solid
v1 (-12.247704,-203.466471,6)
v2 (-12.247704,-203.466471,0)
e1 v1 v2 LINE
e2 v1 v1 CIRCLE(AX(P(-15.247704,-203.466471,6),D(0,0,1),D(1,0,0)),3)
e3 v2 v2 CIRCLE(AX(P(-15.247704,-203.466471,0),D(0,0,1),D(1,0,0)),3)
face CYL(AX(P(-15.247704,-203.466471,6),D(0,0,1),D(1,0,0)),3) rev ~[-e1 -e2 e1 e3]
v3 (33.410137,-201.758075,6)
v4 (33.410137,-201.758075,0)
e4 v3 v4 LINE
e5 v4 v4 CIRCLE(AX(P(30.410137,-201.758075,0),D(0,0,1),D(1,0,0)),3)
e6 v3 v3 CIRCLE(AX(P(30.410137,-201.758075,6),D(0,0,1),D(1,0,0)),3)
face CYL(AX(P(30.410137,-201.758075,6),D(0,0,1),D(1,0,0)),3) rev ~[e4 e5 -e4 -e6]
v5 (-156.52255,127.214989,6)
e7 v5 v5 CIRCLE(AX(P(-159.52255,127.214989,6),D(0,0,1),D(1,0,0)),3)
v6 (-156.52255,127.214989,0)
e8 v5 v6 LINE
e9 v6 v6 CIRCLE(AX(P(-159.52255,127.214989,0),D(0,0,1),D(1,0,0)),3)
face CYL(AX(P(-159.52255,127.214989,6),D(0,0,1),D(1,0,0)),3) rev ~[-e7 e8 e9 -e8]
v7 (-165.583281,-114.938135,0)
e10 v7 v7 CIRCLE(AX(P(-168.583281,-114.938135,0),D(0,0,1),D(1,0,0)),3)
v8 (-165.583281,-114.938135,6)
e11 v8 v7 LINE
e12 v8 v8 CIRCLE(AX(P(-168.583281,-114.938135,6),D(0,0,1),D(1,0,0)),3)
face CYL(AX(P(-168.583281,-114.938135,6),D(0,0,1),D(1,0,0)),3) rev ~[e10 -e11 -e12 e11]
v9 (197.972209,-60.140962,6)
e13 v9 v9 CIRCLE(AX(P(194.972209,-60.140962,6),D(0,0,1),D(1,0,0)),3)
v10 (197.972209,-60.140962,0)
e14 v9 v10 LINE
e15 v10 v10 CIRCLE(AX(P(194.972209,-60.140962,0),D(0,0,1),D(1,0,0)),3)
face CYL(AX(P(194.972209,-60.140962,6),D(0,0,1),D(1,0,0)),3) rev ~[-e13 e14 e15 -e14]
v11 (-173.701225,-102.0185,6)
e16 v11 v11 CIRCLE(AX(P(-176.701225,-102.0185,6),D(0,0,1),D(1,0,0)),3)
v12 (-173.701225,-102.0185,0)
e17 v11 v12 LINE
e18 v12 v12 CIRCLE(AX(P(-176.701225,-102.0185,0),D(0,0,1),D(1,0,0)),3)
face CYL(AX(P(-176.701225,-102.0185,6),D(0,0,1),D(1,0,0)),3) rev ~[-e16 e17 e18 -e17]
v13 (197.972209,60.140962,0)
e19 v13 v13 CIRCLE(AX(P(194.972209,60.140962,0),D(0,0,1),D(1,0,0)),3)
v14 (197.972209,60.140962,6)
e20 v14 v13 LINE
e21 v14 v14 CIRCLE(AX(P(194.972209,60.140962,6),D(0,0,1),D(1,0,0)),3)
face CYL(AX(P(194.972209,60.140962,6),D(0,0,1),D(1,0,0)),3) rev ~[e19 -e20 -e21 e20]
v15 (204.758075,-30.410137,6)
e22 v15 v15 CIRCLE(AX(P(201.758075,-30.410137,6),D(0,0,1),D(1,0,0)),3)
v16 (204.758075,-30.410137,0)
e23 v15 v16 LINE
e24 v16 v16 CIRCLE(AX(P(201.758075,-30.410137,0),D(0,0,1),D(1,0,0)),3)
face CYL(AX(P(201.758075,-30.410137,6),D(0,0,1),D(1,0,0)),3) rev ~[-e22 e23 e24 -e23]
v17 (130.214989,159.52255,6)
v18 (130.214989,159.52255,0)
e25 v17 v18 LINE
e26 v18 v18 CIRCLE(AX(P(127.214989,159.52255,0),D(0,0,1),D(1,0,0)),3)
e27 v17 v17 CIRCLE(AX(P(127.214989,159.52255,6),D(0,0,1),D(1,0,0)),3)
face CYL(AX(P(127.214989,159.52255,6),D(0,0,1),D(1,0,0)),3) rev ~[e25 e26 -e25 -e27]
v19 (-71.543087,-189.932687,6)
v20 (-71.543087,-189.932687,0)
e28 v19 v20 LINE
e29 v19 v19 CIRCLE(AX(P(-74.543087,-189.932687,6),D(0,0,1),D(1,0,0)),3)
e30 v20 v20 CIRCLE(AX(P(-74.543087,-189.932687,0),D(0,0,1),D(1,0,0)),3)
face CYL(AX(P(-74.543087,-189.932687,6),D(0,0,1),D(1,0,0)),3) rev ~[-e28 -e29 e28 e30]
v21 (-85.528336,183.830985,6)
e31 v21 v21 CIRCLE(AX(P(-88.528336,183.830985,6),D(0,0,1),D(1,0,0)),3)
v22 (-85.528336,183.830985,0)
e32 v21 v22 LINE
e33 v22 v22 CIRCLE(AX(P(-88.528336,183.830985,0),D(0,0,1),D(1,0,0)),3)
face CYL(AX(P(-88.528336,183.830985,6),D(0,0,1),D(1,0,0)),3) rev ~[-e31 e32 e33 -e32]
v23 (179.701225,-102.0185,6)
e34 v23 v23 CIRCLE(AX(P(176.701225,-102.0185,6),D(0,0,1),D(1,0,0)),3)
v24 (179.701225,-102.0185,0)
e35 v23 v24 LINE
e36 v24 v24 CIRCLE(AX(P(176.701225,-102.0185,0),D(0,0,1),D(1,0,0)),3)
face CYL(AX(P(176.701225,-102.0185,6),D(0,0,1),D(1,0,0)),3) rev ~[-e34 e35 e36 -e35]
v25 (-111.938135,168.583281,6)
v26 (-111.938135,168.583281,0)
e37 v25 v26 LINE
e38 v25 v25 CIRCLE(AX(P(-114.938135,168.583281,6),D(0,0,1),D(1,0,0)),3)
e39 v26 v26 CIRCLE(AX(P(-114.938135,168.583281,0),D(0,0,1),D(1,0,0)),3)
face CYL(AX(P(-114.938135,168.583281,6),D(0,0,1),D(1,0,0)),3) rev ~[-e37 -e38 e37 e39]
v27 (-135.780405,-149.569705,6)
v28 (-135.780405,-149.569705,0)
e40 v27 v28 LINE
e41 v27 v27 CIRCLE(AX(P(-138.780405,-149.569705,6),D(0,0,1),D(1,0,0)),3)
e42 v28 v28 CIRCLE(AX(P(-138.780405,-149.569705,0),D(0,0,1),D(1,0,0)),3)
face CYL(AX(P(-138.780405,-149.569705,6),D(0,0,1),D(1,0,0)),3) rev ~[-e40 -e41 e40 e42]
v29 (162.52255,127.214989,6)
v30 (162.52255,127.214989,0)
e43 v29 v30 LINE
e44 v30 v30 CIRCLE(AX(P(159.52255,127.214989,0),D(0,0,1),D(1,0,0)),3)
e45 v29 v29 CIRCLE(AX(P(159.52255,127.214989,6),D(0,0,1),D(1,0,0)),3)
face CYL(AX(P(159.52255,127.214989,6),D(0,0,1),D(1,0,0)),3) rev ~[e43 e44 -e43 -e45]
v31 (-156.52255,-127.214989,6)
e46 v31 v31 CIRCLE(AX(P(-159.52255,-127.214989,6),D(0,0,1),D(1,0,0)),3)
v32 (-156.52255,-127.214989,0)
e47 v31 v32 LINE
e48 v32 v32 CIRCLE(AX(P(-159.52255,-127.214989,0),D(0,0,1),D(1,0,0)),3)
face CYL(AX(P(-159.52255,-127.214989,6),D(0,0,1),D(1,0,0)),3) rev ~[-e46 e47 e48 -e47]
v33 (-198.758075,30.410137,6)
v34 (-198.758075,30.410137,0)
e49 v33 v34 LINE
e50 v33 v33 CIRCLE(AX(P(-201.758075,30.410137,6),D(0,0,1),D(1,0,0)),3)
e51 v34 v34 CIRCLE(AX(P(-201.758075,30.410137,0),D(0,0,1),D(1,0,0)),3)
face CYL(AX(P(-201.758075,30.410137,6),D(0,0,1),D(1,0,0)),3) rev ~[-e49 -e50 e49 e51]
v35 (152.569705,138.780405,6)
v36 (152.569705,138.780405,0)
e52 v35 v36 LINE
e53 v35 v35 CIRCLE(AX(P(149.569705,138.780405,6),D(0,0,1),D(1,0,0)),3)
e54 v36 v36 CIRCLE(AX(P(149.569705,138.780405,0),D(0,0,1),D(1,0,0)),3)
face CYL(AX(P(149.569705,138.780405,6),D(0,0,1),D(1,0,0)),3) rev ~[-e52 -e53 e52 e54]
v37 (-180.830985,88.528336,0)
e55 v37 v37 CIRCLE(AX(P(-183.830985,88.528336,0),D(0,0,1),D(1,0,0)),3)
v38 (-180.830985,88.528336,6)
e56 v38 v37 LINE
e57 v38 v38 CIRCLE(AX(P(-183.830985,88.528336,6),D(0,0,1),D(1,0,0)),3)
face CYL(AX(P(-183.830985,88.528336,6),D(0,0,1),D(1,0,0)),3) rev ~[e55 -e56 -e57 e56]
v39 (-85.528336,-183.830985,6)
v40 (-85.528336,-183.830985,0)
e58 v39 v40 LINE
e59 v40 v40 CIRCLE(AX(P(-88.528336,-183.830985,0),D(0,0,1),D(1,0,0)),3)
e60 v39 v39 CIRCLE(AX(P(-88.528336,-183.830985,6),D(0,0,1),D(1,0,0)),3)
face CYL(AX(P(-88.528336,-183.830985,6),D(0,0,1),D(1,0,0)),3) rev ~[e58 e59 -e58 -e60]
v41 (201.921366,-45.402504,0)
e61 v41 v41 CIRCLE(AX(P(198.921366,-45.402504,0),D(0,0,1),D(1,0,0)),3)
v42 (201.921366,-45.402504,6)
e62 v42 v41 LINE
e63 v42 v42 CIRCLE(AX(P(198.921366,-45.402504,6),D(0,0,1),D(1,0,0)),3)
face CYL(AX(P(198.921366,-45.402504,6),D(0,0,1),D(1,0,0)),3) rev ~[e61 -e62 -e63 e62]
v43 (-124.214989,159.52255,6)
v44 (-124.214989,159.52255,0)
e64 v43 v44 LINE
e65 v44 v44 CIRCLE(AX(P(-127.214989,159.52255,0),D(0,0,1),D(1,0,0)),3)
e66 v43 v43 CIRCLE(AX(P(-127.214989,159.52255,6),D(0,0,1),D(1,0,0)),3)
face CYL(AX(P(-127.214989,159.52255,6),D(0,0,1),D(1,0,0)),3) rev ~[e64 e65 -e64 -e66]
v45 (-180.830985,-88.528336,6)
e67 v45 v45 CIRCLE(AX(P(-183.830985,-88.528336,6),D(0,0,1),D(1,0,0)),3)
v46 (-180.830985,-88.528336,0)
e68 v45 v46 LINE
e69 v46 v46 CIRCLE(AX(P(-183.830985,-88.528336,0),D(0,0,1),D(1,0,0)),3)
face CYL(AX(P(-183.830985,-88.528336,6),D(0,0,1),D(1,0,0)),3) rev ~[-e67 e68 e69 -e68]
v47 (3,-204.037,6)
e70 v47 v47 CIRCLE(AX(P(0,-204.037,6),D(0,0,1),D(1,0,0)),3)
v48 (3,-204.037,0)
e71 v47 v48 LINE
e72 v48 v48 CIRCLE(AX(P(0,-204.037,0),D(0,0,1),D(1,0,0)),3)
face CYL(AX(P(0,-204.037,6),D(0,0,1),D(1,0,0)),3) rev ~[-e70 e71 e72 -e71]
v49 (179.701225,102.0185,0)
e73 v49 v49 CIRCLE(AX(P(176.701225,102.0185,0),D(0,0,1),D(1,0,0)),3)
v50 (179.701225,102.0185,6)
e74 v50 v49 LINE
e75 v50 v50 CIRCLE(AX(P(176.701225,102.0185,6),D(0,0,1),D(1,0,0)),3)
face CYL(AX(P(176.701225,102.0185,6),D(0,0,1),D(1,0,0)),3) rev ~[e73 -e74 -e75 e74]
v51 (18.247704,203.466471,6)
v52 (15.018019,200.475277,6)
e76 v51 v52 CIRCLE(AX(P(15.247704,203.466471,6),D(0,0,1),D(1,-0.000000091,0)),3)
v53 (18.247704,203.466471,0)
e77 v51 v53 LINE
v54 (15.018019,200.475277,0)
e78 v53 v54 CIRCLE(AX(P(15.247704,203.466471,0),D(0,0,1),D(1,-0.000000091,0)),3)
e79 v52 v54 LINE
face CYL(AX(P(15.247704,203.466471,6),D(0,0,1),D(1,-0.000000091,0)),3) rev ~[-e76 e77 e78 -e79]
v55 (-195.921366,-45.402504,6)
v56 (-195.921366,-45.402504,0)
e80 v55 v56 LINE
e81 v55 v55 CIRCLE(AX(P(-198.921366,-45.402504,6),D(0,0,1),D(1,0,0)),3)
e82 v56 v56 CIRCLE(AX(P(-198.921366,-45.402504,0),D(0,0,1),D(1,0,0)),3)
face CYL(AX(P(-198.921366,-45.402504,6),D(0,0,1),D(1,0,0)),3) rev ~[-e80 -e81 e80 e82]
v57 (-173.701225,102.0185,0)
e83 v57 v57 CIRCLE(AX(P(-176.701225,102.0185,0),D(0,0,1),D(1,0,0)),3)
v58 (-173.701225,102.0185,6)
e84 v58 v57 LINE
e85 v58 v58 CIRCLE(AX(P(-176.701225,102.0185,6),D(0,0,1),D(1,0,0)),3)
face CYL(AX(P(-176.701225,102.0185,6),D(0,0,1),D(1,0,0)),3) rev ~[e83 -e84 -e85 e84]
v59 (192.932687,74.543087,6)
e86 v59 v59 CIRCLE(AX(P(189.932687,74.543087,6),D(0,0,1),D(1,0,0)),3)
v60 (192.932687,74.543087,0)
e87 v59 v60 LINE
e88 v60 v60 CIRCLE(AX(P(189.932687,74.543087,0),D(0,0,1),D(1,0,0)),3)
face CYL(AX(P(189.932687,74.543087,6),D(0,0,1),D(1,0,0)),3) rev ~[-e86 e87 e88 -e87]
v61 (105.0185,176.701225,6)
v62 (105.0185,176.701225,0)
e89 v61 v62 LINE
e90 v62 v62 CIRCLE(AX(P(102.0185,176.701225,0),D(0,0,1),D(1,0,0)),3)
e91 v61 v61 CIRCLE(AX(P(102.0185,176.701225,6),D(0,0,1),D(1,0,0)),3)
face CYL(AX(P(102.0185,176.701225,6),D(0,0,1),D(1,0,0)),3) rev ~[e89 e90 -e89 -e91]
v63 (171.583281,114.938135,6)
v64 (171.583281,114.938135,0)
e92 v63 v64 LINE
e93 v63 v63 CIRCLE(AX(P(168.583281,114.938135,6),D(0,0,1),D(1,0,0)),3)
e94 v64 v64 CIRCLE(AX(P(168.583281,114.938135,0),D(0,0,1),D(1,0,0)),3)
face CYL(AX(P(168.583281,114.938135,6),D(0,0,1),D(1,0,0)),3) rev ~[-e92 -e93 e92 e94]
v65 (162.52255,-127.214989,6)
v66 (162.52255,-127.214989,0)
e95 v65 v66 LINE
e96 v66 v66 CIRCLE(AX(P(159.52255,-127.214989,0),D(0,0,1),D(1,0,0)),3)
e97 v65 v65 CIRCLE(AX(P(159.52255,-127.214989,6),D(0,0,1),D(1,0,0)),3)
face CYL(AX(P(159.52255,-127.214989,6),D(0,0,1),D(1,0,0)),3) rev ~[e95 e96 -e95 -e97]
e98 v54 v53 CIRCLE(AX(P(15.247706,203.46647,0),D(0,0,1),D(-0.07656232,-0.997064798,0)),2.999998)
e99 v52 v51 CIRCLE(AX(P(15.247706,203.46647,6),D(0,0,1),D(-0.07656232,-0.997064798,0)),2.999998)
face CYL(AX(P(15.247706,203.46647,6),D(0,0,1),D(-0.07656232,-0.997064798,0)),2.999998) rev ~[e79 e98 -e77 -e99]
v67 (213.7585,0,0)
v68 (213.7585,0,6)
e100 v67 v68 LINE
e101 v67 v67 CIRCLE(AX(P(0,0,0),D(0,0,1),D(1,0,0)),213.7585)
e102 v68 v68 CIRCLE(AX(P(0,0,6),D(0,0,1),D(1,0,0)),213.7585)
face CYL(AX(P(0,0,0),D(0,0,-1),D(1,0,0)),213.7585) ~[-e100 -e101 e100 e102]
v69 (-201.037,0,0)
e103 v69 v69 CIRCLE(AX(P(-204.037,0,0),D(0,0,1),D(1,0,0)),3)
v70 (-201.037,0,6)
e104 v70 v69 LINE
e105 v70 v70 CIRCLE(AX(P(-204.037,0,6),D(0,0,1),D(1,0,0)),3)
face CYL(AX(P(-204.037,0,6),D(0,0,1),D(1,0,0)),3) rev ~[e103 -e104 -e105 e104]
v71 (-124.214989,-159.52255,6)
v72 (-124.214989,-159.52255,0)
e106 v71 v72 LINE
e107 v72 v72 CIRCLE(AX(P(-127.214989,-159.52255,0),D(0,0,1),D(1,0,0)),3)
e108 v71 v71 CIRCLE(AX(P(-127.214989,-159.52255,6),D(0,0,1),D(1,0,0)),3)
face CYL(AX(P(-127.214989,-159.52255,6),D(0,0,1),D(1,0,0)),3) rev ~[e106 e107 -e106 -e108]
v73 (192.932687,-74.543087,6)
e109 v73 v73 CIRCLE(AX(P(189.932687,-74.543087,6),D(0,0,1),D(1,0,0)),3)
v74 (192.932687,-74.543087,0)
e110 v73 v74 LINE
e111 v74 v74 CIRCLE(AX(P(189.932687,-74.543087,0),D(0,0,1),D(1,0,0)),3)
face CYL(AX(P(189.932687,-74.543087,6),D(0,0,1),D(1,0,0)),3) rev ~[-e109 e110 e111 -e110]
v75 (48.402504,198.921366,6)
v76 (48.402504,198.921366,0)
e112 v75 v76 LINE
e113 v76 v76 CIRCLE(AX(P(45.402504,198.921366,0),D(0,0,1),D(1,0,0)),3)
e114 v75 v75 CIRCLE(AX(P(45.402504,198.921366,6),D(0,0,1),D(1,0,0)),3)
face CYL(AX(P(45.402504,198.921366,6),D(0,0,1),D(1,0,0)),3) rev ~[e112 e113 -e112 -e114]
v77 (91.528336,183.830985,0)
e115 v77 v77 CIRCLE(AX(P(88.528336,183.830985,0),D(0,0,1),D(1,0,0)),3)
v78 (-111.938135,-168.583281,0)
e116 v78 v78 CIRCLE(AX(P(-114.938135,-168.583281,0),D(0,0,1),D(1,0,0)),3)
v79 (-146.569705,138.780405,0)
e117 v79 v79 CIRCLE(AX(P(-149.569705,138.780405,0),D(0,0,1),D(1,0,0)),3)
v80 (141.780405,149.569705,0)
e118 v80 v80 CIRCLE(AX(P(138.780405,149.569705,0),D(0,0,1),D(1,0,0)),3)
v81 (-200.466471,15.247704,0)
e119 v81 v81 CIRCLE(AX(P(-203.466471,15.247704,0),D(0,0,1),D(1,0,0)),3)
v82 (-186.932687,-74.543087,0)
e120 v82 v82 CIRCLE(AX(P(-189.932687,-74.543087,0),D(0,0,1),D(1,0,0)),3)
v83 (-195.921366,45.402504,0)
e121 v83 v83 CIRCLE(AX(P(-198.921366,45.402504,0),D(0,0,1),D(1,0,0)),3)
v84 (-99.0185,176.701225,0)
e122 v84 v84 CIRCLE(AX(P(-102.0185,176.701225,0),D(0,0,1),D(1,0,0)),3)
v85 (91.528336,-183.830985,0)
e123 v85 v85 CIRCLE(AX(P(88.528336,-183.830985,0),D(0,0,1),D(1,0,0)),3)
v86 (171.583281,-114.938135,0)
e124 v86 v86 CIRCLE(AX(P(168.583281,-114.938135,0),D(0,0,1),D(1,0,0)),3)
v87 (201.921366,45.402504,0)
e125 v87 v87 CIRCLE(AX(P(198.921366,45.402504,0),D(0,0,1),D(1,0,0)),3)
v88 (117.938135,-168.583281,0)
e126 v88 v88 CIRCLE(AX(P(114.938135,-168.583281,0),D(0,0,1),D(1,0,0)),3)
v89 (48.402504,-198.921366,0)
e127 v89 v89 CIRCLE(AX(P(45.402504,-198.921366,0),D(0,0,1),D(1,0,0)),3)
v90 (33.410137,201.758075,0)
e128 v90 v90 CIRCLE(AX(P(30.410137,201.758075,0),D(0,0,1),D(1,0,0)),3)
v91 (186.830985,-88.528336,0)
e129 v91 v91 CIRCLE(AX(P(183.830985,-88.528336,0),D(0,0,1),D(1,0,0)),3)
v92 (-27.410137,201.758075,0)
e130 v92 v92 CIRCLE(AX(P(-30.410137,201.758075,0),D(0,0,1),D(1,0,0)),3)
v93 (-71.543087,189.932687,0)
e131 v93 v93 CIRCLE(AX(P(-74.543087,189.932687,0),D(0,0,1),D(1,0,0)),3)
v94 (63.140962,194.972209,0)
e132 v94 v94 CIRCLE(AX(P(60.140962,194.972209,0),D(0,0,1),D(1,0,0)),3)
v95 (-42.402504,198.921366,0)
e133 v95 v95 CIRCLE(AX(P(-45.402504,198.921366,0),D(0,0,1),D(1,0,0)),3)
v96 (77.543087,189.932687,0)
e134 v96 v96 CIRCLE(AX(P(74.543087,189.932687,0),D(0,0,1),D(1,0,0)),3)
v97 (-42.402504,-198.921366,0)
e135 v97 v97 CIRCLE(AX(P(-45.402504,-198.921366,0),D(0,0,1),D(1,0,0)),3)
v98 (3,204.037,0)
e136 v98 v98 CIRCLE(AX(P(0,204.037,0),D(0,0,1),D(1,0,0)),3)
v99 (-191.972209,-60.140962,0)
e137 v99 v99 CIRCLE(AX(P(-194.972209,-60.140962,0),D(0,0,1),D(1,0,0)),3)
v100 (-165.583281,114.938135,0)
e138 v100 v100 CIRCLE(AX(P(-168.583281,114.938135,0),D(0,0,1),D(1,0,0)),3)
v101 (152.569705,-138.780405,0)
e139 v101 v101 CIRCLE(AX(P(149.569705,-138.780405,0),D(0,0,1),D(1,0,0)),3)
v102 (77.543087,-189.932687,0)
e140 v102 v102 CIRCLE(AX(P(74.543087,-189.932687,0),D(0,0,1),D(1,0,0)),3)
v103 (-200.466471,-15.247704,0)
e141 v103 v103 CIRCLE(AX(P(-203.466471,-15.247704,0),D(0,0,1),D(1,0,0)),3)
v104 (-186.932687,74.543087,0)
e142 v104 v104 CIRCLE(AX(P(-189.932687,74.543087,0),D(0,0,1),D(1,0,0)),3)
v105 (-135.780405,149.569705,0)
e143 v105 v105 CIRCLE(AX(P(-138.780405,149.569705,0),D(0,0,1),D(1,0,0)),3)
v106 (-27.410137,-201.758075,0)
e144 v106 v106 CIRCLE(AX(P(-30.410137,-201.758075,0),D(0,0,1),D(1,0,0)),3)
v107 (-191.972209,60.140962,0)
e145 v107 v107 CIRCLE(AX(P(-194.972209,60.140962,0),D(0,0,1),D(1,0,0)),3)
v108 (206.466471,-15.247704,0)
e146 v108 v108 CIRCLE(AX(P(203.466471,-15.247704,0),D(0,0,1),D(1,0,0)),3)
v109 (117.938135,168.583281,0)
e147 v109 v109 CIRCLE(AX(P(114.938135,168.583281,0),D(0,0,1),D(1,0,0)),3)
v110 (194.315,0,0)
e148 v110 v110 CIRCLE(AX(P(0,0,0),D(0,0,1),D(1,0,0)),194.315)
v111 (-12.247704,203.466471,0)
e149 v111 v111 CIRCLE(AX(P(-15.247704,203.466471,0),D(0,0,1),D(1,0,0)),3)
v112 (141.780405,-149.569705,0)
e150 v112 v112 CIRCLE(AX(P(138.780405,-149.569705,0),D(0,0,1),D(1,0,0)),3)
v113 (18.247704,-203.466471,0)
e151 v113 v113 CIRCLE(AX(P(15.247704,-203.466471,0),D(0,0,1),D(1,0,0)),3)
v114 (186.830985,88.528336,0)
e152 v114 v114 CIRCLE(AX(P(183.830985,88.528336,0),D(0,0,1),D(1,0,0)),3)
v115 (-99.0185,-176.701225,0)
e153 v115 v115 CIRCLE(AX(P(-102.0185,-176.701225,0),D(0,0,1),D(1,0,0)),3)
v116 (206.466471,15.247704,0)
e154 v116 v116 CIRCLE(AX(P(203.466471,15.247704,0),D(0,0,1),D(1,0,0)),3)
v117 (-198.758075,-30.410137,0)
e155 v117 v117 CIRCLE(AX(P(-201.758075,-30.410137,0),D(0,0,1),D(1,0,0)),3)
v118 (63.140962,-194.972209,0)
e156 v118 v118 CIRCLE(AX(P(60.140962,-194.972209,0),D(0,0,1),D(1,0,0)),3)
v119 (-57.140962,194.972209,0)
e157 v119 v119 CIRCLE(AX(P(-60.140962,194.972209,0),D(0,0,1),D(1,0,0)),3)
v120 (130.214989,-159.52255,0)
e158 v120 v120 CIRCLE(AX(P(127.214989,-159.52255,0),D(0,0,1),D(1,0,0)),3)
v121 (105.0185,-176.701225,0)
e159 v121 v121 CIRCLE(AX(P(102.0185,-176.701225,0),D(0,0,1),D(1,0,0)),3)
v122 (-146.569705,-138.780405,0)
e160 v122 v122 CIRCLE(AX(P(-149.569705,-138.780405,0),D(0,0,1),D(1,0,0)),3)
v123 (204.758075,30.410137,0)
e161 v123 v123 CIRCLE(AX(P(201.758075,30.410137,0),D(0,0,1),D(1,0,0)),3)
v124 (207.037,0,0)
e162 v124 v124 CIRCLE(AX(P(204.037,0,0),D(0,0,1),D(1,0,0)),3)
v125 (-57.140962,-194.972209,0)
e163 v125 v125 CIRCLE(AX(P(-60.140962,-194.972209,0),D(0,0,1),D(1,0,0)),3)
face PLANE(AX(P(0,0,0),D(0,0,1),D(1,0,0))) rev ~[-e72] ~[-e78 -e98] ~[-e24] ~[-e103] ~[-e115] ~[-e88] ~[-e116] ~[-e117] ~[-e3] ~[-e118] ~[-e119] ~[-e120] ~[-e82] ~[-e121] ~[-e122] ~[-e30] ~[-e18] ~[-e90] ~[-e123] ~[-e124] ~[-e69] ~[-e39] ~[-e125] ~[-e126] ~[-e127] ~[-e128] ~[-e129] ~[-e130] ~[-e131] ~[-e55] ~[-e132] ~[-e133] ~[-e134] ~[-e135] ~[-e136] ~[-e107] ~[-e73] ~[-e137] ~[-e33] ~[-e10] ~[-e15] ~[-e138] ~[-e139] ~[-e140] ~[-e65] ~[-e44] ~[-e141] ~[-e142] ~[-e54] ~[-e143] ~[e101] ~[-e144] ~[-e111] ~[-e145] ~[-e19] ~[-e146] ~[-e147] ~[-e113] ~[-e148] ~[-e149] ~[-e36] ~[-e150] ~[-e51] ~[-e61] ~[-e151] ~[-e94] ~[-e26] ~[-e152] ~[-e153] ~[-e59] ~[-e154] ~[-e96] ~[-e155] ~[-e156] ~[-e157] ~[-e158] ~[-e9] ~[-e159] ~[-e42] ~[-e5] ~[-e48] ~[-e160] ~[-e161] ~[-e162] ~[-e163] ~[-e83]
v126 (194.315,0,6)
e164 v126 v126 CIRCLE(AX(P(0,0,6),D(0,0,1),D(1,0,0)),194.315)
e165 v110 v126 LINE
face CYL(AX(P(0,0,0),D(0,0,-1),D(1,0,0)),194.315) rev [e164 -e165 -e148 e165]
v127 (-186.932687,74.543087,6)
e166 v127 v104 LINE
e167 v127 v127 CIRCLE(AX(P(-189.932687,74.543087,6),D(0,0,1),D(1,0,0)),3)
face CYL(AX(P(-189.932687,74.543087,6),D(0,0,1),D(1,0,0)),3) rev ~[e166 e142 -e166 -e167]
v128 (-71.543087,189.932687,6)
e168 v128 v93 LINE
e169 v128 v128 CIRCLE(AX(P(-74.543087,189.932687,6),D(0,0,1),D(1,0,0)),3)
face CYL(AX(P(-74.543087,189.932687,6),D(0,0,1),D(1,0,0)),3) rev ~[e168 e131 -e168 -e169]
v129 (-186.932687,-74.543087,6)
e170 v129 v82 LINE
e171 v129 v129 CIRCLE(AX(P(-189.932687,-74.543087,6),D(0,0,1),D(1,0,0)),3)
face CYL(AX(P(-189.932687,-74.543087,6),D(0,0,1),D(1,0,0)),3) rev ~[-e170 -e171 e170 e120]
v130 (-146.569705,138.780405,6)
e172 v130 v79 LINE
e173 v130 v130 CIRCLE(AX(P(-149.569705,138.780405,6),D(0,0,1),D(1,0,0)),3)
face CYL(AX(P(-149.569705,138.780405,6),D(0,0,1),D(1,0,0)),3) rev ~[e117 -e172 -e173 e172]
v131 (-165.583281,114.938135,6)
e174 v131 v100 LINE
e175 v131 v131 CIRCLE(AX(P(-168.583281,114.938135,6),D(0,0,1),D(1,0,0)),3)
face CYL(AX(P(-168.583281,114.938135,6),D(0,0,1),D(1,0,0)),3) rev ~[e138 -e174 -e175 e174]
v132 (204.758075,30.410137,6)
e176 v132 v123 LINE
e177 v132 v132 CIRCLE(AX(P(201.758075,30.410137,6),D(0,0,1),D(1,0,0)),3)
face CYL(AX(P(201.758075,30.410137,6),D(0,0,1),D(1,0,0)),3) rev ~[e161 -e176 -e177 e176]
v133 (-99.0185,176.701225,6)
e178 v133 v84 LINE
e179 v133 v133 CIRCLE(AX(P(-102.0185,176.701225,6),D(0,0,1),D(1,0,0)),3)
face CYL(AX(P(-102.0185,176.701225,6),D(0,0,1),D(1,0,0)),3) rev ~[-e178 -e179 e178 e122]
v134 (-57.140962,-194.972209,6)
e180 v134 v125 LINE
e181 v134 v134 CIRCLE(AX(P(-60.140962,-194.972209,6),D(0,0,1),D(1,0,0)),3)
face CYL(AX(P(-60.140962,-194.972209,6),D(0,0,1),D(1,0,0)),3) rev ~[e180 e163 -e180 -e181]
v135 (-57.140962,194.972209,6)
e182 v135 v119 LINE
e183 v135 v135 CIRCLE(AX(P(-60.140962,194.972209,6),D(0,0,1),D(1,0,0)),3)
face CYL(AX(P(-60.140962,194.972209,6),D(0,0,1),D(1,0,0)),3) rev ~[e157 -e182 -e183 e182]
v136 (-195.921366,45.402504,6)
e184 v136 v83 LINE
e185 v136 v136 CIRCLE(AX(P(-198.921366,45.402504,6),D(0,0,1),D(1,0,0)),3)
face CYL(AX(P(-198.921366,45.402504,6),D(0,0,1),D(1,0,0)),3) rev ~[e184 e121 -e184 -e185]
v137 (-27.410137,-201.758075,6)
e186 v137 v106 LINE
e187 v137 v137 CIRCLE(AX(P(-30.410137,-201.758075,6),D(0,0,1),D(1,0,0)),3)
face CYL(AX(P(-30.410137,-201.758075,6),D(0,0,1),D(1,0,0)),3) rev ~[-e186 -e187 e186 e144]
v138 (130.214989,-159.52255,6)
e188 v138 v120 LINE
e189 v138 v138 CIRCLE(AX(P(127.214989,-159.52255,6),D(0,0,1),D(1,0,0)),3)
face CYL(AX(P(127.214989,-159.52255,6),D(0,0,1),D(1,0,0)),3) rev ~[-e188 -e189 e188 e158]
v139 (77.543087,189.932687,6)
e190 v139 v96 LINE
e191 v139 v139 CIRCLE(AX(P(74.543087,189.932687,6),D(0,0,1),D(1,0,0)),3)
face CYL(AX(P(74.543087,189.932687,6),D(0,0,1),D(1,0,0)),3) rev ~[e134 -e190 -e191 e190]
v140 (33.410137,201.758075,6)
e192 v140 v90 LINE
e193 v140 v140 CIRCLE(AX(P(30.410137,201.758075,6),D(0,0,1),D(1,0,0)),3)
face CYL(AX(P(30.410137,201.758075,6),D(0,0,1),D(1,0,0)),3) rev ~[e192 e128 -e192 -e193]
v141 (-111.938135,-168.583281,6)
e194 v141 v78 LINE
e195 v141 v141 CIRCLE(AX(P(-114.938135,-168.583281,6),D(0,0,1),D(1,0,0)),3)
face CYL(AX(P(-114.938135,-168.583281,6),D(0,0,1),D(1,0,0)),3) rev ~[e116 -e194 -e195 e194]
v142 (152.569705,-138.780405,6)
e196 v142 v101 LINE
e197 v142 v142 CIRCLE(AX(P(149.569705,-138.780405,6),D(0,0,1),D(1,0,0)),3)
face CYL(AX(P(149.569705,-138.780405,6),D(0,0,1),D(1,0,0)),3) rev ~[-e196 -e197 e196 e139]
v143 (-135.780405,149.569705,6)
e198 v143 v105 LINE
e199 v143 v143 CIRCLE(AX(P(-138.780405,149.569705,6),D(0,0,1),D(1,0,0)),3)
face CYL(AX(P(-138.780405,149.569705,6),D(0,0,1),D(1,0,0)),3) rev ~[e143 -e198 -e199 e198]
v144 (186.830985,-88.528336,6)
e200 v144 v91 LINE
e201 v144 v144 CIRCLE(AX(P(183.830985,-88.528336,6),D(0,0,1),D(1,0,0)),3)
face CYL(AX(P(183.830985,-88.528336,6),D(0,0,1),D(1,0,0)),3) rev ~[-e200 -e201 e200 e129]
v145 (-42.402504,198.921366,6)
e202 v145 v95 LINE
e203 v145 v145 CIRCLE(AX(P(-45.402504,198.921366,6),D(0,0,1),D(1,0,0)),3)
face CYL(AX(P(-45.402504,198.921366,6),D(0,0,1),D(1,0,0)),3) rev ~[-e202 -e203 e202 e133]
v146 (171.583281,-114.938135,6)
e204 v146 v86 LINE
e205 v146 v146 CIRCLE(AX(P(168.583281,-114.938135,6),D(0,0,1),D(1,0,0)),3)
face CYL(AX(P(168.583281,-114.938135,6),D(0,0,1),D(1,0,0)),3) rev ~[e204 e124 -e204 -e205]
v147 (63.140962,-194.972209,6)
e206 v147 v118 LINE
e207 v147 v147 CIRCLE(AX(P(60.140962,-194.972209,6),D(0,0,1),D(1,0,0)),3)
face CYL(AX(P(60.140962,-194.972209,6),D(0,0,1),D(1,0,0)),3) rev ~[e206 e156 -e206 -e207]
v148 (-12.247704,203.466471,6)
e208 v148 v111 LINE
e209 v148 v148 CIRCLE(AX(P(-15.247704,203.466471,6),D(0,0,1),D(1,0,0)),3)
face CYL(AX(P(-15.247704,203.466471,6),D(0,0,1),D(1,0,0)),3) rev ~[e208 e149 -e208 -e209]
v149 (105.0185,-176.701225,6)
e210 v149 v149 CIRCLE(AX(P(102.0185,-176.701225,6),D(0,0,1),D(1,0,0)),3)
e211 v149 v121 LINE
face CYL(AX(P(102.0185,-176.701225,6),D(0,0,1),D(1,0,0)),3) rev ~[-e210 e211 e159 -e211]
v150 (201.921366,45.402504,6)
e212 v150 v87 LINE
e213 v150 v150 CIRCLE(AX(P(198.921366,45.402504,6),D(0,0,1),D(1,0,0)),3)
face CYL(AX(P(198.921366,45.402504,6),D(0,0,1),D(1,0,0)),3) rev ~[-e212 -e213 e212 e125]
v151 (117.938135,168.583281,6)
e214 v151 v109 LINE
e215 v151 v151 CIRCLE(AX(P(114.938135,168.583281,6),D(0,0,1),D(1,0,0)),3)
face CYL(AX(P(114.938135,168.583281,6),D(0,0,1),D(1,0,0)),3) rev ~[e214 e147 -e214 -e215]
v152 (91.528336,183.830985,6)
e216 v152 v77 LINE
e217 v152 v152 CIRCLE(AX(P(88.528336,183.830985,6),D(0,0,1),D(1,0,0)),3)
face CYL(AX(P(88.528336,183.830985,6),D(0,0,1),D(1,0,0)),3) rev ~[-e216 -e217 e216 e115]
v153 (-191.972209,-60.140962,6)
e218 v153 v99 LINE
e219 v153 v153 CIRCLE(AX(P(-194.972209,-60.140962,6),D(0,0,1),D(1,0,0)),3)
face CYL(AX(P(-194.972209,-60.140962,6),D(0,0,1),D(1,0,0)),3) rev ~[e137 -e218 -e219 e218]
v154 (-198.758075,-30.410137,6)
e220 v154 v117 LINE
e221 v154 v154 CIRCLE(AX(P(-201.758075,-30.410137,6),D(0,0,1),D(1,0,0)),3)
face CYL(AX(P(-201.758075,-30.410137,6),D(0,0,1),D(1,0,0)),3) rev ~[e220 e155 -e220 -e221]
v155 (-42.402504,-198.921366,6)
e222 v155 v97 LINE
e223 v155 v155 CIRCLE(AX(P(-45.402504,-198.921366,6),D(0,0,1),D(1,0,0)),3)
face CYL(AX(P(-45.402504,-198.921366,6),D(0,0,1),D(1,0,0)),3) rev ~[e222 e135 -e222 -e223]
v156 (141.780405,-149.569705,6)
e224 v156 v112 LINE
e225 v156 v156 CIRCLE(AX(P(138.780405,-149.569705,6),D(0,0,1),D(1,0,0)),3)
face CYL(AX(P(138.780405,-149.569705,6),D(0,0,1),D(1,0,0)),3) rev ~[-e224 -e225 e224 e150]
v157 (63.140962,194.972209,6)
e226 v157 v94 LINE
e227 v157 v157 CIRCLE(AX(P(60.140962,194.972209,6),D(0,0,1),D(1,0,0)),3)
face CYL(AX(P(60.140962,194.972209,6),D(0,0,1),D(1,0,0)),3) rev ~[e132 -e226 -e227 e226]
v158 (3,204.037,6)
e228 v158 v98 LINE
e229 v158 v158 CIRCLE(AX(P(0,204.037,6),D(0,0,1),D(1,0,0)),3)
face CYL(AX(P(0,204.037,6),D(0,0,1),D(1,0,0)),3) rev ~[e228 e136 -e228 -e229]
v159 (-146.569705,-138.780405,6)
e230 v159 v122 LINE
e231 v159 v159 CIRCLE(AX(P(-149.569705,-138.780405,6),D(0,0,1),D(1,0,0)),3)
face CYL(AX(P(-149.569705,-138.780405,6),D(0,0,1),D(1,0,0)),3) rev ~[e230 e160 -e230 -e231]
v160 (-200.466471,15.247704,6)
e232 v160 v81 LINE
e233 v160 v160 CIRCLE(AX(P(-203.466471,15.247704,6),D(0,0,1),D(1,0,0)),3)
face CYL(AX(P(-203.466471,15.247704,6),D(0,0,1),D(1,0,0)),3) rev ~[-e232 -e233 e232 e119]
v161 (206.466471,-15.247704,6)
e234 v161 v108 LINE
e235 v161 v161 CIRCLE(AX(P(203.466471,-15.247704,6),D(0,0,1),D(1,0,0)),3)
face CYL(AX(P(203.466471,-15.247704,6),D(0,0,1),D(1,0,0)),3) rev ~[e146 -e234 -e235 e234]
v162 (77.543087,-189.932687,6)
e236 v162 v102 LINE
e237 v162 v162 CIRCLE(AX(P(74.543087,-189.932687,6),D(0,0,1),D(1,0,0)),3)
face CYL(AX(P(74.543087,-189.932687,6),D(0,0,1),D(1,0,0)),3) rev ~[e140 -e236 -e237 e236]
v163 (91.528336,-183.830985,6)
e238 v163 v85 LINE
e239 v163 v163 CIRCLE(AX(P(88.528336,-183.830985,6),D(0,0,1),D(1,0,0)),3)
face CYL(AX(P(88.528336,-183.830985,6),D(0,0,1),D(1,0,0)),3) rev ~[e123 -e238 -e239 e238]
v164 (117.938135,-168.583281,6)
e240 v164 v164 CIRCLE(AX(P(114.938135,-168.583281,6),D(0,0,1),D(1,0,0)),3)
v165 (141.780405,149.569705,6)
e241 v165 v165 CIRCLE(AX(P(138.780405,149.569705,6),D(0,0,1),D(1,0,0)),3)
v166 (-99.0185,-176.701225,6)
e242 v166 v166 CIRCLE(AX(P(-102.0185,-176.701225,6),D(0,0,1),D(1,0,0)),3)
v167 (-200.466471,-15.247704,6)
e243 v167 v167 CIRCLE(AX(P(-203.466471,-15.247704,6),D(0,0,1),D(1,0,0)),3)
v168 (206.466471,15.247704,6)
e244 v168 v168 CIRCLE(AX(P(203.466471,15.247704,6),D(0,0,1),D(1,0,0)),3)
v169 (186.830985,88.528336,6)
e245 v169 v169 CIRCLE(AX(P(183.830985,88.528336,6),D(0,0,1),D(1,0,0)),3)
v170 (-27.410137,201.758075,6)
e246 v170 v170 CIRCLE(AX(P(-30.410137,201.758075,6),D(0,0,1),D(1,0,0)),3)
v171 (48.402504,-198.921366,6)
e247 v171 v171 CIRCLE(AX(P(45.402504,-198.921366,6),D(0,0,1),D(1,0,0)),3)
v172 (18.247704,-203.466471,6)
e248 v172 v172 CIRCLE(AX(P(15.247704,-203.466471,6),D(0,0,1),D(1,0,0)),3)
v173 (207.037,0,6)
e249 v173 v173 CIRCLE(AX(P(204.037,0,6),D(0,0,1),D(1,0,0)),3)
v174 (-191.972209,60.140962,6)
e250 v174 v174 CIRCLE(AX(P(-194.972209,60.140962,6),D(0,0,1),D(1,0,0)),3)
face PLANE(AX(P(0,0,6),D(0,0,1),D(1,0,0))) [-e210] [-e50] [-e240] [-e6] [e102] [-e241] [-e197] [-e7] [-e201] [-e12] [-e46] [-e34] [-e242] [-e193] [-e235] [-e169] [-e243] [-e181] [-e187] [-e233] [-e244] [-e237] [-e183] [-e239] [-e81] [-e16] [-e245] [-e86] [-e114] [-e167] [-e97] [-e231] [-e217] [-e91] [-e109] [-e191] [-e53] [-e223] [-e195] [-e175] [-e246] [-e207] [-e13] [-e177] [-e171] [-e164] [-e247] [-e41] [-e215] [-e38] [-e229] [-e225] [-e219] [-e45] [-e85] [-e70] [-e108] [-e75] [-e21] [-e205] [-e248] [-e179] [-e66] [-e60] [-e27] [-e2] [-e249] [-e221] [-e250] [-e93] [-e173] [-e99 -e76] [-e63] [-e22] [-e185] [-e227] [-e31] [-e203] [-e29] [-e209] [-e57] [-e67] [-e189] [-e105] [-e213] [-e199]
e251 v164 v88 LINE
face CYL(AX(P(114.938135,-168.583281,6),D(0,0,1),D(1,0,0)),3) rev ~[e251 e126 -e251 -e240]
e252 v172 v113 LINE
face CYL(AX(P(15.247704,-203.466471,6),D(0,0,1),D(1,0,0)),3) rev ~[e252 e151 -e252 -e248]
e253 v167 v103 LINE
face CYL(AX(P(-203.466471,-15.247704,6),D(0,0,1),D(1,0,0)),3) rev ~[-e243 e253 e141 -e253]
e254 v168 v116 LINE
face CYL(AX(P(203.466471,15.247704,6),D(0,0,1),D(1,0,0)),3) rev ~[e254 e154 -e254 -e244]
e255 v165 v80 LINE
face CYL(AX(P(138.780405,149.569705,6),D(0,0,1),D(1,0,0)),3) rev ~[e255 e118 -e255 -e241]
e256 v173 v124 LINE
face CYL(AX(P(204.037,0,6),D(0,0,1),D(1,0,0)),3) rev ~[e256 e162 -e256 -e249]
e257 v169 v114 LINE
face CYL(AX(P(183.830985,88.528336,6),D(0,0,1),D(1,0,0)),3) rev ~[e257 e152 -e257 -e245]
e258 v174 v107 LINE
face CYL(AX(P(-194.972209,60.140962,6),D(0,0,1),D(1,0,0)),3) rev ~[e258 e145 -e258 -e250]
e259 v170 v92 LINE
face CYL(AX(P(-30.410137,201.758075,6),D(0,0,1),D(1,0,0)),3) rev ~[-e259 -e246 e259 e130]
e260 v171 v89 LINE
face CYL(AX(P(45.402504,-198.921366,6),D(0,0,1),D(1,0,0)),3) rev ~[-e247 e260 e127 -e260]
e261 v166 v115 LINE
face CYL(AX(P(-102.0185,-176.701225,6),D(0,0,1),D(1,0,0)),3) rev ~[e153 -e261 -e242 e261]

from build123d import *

# Parameters (mm, degrees)
F0_R     = 213.7585
F0_R_2   = 194.315
F1_DEPTH = 6
F2_R     = 3
F3_DEPTH = 6.001


with BuildPart() as f1:
    # F0 (on Top) → F1 (new body)
    with BuildSketch(Plane.XY):
        Circle(F0_R)
        Circle(F0_R_2, mode=Mode.SUBTRACT)
    extrude(amount=F1_DEPTH)

    # F2 (on face) → F3 (cut, through all)
    with BuildSketch(Plane.XY.offset(6)):
        with Locations((0, 204.037)):
            Circle(F2_R)
        with Locations((-15.247704, 203.466471)):
            Circle(F2_R)
        with Locations((-30.410137, 201.758075)):
            Circle(F2_R)
        with Locations((-45.402504, 198.921366)):
            Circle(F2_R)
        with Locations((-60.140962, 194.972209)):
            Circle(F2_R)
        with Locations((-74.543087, 189.932687)):
            Circle(F2_R)
        with Locations((-88.528336, 183.830985)):
            Circle(F2_R)
        with Locations((-102.0185, 176.701225)):
            Circle(F2_R)
        with Locations((-114.938135, 168.583281)):
            Circle(F2_R)
        with Locations((-127.214989, 159.52255)):
            Circle(F2_R)
        with Locations((-138.780405, 149.569705)):
            Circle(F2_R)
        with Locations((-149.569705, 138.780405)):
            Circle(F2_R)
        with Locations((-159.52255, 127.214989)):
            Circle(F2_R)
        with Locations((-168.583281, 114.938135)):
            Circle(F2_R)
        with Locations((-176.701225, 102.0185)):
            Circle(F2_R)
        with Locations((-183.830985, 88.528336)):
            Circle(F2_R)
        with Locations((-189.932687, 74.543087)):
            Circle(F2_R)
        with Locations((-194.972209, 60.140962)):
            Circle(F2_R)
        with Locations((-198.921366, 45.402504)):
            Circle(F2_R)
        with Locations((-201.758075, 30.410137)):
            Circle(F2_R)
        with Locations((-203.466471, 15.247704)):
            Circle(F2_R)
        with Locations((-204.037, 0)):
            Circle(F2_R)
        with Locations((-203.466471, -15.247704)):
            Circle(F2_R)
        with Locations((-201.758075, -30.410137)):
            Circle(F2_R)
        with Locations((-198.921366, -45.402504)):
            Circle(F2_R)
        with Locations((-194.972209, -60.140962)):
            Circle(F2_R)
        with Locations((-189.932687, -74.543087)):
            Circle(F2_R)
        with Locations((-183.830985, -88.528336)):
            Circle(F2_R)
        with Locations((-176.701225, -102.0185)):
            Circle(F2_R)
        with Locations((-168.583281, -114.938135)):
            Circle(F2_R)
        with Locations((-159.52255, -127.214989)):
            Circle(F2_R)
        with Locations((-149.569705, -138.780405)):
            Circle(F2_R)
        with Locations((-138.780405, -149.569705)):
            Circle(F2_R)
        with Locations((-127.214989, -159.52255)):
            Circle(F2_R)
        with Locations((-114.938135, -168.583281)):
            Circle(F2_R)
        with Locations((-102.0185, -176.701225)):
            Circle(F2_R)
        with Locations((-88.528336, -183.830985)):
            Circle(F2_R)
        with Locations((-74.543087, -189.932687)):
            Circle(F2_R)
        with Locations((-60.140962, -194.972209)):
            Circle(F2_R)
        with Locations((-45.402504, -198.921366)):
            Circle(F2_R)
        with Locations((-30.410137, -201.758075)):
            Circle(F2_R)
        with Locations((-15.247704, -203.466471)):
            Circle(F2_R)
        with Locations((0, -204.037)):
            Circle(F2_R)
        with Locations((15.247704, -203.466471)):
            Circle(F2_R)
        with Locations((30.410137, -201.758075)):
            Circle(F2_R)
        with Locations((45.402504, -198.921366)):
            Circle(F2_R)
        with Locations((60.140962, -194.972209)):
            Circle(F2_R)
        with Locations((74.543087, -189.932687)):
            Circle(F2_R)
        with Locations((88.528336, -183.830985)):
            Circle(F2_R)
        with Locations((102.0185, -176.701225)):
            Circle(F2_R)
        with Locations((114.938135, -168.583281)):
            Circle(F2_R)
        with Locations((127.214989, -159.52255)):
            Circle(F2_R)
        with Locations((138.780405, -149.569705)):
            Circle(F2_R)
        with Locations((149.569705, -138.780405)):
            Circle(F2_R)
        with Locations((159.52255, -127.214989)):
            Circle(F2_R)
        with Locations((168.583281, -114.938135)):
            Circle(F2_R)
        with Locations((176.701225, -102.0185)):
            Circle(F2_R)
        with Locations((183.830985, -88.528336)):
            Circle(F2_R)
        with Locations((189.932687, -74.543087)):
            Circle(F2_R)
        with Locations((194.972209, -60.140962)):
            Circle(F2_R)
        with Locations((198.921366, -45.402504)):
            Circle(F2_R)
        with Locations((201.758075, -30.410137)):
            Circle(F2_R)
        with Locations((203.466471, -15.247704)):
            Circle(F2_R)
        with Locations((204.037, 0)):
            Circle(F2_R)
        with Locations((203.466471, 15.247704)):
            Circle(F2_R)
        with Locations((201.758075, 30.410137)):
            Circle(F2_R)
        with Locations((198.921366, 45.402504)):
            Circle(F2_R)
        with Locations((194.972209, 60.140962)):
            Circle(F2_R)
        with Locations((189.932687, 74.543087)):
            Circle(F2_R)
        with Locations((183.830985, 88.528336)):
            Circle(F2_R)
        with Locations((176.701225, 102.0185)):
            Circle(F2_R)
        with Locations((168.583281, 114.938135)):
            Circle(F2_R)
        with Locations((159.52255, 127.214989)):
            Circle(F2_R)
        with Locations((149.569705, 138.780405)):
            Circle(F2_R)
        with Locations((138.780405, 149.569705)):
            Circle(F2_R)
        with Locations((127.214989, 159.52255)):
            Circle(F2_R)
        with Locations((114.938135, 168.583281)):
            Circle(F2_R)
        with Locations((102.0185, 176.701225)):
            Circle(F2_R)
        with Locations((88.528336, 183.830985)):
            Circle(F2_R)
        with Locations((74.543087, 189.932687)):
            Circle(F2_R)
        with Locations((60.140962, 194.972209)):
            Circle(F2_R)
        with Locations((45.402504, 198.921366)):
            Circle(F2_R)
        with Locations((30.410137, 201.758075)):
            Circle(F2_R)
        with BuildLine():
            ThreePointArc((15.018019, 200.475277), (17.286202, 201.265442), (18.247704, 203.466471))
            ThreePointArc((18.247704, 203.466471), (13.209207, 205.6675), (15.018019, 200.475277))
        make_face()
    extrude(amount=-F3_DEPTH, mode=Mode.SUBTRACT)


solid = f1.part
